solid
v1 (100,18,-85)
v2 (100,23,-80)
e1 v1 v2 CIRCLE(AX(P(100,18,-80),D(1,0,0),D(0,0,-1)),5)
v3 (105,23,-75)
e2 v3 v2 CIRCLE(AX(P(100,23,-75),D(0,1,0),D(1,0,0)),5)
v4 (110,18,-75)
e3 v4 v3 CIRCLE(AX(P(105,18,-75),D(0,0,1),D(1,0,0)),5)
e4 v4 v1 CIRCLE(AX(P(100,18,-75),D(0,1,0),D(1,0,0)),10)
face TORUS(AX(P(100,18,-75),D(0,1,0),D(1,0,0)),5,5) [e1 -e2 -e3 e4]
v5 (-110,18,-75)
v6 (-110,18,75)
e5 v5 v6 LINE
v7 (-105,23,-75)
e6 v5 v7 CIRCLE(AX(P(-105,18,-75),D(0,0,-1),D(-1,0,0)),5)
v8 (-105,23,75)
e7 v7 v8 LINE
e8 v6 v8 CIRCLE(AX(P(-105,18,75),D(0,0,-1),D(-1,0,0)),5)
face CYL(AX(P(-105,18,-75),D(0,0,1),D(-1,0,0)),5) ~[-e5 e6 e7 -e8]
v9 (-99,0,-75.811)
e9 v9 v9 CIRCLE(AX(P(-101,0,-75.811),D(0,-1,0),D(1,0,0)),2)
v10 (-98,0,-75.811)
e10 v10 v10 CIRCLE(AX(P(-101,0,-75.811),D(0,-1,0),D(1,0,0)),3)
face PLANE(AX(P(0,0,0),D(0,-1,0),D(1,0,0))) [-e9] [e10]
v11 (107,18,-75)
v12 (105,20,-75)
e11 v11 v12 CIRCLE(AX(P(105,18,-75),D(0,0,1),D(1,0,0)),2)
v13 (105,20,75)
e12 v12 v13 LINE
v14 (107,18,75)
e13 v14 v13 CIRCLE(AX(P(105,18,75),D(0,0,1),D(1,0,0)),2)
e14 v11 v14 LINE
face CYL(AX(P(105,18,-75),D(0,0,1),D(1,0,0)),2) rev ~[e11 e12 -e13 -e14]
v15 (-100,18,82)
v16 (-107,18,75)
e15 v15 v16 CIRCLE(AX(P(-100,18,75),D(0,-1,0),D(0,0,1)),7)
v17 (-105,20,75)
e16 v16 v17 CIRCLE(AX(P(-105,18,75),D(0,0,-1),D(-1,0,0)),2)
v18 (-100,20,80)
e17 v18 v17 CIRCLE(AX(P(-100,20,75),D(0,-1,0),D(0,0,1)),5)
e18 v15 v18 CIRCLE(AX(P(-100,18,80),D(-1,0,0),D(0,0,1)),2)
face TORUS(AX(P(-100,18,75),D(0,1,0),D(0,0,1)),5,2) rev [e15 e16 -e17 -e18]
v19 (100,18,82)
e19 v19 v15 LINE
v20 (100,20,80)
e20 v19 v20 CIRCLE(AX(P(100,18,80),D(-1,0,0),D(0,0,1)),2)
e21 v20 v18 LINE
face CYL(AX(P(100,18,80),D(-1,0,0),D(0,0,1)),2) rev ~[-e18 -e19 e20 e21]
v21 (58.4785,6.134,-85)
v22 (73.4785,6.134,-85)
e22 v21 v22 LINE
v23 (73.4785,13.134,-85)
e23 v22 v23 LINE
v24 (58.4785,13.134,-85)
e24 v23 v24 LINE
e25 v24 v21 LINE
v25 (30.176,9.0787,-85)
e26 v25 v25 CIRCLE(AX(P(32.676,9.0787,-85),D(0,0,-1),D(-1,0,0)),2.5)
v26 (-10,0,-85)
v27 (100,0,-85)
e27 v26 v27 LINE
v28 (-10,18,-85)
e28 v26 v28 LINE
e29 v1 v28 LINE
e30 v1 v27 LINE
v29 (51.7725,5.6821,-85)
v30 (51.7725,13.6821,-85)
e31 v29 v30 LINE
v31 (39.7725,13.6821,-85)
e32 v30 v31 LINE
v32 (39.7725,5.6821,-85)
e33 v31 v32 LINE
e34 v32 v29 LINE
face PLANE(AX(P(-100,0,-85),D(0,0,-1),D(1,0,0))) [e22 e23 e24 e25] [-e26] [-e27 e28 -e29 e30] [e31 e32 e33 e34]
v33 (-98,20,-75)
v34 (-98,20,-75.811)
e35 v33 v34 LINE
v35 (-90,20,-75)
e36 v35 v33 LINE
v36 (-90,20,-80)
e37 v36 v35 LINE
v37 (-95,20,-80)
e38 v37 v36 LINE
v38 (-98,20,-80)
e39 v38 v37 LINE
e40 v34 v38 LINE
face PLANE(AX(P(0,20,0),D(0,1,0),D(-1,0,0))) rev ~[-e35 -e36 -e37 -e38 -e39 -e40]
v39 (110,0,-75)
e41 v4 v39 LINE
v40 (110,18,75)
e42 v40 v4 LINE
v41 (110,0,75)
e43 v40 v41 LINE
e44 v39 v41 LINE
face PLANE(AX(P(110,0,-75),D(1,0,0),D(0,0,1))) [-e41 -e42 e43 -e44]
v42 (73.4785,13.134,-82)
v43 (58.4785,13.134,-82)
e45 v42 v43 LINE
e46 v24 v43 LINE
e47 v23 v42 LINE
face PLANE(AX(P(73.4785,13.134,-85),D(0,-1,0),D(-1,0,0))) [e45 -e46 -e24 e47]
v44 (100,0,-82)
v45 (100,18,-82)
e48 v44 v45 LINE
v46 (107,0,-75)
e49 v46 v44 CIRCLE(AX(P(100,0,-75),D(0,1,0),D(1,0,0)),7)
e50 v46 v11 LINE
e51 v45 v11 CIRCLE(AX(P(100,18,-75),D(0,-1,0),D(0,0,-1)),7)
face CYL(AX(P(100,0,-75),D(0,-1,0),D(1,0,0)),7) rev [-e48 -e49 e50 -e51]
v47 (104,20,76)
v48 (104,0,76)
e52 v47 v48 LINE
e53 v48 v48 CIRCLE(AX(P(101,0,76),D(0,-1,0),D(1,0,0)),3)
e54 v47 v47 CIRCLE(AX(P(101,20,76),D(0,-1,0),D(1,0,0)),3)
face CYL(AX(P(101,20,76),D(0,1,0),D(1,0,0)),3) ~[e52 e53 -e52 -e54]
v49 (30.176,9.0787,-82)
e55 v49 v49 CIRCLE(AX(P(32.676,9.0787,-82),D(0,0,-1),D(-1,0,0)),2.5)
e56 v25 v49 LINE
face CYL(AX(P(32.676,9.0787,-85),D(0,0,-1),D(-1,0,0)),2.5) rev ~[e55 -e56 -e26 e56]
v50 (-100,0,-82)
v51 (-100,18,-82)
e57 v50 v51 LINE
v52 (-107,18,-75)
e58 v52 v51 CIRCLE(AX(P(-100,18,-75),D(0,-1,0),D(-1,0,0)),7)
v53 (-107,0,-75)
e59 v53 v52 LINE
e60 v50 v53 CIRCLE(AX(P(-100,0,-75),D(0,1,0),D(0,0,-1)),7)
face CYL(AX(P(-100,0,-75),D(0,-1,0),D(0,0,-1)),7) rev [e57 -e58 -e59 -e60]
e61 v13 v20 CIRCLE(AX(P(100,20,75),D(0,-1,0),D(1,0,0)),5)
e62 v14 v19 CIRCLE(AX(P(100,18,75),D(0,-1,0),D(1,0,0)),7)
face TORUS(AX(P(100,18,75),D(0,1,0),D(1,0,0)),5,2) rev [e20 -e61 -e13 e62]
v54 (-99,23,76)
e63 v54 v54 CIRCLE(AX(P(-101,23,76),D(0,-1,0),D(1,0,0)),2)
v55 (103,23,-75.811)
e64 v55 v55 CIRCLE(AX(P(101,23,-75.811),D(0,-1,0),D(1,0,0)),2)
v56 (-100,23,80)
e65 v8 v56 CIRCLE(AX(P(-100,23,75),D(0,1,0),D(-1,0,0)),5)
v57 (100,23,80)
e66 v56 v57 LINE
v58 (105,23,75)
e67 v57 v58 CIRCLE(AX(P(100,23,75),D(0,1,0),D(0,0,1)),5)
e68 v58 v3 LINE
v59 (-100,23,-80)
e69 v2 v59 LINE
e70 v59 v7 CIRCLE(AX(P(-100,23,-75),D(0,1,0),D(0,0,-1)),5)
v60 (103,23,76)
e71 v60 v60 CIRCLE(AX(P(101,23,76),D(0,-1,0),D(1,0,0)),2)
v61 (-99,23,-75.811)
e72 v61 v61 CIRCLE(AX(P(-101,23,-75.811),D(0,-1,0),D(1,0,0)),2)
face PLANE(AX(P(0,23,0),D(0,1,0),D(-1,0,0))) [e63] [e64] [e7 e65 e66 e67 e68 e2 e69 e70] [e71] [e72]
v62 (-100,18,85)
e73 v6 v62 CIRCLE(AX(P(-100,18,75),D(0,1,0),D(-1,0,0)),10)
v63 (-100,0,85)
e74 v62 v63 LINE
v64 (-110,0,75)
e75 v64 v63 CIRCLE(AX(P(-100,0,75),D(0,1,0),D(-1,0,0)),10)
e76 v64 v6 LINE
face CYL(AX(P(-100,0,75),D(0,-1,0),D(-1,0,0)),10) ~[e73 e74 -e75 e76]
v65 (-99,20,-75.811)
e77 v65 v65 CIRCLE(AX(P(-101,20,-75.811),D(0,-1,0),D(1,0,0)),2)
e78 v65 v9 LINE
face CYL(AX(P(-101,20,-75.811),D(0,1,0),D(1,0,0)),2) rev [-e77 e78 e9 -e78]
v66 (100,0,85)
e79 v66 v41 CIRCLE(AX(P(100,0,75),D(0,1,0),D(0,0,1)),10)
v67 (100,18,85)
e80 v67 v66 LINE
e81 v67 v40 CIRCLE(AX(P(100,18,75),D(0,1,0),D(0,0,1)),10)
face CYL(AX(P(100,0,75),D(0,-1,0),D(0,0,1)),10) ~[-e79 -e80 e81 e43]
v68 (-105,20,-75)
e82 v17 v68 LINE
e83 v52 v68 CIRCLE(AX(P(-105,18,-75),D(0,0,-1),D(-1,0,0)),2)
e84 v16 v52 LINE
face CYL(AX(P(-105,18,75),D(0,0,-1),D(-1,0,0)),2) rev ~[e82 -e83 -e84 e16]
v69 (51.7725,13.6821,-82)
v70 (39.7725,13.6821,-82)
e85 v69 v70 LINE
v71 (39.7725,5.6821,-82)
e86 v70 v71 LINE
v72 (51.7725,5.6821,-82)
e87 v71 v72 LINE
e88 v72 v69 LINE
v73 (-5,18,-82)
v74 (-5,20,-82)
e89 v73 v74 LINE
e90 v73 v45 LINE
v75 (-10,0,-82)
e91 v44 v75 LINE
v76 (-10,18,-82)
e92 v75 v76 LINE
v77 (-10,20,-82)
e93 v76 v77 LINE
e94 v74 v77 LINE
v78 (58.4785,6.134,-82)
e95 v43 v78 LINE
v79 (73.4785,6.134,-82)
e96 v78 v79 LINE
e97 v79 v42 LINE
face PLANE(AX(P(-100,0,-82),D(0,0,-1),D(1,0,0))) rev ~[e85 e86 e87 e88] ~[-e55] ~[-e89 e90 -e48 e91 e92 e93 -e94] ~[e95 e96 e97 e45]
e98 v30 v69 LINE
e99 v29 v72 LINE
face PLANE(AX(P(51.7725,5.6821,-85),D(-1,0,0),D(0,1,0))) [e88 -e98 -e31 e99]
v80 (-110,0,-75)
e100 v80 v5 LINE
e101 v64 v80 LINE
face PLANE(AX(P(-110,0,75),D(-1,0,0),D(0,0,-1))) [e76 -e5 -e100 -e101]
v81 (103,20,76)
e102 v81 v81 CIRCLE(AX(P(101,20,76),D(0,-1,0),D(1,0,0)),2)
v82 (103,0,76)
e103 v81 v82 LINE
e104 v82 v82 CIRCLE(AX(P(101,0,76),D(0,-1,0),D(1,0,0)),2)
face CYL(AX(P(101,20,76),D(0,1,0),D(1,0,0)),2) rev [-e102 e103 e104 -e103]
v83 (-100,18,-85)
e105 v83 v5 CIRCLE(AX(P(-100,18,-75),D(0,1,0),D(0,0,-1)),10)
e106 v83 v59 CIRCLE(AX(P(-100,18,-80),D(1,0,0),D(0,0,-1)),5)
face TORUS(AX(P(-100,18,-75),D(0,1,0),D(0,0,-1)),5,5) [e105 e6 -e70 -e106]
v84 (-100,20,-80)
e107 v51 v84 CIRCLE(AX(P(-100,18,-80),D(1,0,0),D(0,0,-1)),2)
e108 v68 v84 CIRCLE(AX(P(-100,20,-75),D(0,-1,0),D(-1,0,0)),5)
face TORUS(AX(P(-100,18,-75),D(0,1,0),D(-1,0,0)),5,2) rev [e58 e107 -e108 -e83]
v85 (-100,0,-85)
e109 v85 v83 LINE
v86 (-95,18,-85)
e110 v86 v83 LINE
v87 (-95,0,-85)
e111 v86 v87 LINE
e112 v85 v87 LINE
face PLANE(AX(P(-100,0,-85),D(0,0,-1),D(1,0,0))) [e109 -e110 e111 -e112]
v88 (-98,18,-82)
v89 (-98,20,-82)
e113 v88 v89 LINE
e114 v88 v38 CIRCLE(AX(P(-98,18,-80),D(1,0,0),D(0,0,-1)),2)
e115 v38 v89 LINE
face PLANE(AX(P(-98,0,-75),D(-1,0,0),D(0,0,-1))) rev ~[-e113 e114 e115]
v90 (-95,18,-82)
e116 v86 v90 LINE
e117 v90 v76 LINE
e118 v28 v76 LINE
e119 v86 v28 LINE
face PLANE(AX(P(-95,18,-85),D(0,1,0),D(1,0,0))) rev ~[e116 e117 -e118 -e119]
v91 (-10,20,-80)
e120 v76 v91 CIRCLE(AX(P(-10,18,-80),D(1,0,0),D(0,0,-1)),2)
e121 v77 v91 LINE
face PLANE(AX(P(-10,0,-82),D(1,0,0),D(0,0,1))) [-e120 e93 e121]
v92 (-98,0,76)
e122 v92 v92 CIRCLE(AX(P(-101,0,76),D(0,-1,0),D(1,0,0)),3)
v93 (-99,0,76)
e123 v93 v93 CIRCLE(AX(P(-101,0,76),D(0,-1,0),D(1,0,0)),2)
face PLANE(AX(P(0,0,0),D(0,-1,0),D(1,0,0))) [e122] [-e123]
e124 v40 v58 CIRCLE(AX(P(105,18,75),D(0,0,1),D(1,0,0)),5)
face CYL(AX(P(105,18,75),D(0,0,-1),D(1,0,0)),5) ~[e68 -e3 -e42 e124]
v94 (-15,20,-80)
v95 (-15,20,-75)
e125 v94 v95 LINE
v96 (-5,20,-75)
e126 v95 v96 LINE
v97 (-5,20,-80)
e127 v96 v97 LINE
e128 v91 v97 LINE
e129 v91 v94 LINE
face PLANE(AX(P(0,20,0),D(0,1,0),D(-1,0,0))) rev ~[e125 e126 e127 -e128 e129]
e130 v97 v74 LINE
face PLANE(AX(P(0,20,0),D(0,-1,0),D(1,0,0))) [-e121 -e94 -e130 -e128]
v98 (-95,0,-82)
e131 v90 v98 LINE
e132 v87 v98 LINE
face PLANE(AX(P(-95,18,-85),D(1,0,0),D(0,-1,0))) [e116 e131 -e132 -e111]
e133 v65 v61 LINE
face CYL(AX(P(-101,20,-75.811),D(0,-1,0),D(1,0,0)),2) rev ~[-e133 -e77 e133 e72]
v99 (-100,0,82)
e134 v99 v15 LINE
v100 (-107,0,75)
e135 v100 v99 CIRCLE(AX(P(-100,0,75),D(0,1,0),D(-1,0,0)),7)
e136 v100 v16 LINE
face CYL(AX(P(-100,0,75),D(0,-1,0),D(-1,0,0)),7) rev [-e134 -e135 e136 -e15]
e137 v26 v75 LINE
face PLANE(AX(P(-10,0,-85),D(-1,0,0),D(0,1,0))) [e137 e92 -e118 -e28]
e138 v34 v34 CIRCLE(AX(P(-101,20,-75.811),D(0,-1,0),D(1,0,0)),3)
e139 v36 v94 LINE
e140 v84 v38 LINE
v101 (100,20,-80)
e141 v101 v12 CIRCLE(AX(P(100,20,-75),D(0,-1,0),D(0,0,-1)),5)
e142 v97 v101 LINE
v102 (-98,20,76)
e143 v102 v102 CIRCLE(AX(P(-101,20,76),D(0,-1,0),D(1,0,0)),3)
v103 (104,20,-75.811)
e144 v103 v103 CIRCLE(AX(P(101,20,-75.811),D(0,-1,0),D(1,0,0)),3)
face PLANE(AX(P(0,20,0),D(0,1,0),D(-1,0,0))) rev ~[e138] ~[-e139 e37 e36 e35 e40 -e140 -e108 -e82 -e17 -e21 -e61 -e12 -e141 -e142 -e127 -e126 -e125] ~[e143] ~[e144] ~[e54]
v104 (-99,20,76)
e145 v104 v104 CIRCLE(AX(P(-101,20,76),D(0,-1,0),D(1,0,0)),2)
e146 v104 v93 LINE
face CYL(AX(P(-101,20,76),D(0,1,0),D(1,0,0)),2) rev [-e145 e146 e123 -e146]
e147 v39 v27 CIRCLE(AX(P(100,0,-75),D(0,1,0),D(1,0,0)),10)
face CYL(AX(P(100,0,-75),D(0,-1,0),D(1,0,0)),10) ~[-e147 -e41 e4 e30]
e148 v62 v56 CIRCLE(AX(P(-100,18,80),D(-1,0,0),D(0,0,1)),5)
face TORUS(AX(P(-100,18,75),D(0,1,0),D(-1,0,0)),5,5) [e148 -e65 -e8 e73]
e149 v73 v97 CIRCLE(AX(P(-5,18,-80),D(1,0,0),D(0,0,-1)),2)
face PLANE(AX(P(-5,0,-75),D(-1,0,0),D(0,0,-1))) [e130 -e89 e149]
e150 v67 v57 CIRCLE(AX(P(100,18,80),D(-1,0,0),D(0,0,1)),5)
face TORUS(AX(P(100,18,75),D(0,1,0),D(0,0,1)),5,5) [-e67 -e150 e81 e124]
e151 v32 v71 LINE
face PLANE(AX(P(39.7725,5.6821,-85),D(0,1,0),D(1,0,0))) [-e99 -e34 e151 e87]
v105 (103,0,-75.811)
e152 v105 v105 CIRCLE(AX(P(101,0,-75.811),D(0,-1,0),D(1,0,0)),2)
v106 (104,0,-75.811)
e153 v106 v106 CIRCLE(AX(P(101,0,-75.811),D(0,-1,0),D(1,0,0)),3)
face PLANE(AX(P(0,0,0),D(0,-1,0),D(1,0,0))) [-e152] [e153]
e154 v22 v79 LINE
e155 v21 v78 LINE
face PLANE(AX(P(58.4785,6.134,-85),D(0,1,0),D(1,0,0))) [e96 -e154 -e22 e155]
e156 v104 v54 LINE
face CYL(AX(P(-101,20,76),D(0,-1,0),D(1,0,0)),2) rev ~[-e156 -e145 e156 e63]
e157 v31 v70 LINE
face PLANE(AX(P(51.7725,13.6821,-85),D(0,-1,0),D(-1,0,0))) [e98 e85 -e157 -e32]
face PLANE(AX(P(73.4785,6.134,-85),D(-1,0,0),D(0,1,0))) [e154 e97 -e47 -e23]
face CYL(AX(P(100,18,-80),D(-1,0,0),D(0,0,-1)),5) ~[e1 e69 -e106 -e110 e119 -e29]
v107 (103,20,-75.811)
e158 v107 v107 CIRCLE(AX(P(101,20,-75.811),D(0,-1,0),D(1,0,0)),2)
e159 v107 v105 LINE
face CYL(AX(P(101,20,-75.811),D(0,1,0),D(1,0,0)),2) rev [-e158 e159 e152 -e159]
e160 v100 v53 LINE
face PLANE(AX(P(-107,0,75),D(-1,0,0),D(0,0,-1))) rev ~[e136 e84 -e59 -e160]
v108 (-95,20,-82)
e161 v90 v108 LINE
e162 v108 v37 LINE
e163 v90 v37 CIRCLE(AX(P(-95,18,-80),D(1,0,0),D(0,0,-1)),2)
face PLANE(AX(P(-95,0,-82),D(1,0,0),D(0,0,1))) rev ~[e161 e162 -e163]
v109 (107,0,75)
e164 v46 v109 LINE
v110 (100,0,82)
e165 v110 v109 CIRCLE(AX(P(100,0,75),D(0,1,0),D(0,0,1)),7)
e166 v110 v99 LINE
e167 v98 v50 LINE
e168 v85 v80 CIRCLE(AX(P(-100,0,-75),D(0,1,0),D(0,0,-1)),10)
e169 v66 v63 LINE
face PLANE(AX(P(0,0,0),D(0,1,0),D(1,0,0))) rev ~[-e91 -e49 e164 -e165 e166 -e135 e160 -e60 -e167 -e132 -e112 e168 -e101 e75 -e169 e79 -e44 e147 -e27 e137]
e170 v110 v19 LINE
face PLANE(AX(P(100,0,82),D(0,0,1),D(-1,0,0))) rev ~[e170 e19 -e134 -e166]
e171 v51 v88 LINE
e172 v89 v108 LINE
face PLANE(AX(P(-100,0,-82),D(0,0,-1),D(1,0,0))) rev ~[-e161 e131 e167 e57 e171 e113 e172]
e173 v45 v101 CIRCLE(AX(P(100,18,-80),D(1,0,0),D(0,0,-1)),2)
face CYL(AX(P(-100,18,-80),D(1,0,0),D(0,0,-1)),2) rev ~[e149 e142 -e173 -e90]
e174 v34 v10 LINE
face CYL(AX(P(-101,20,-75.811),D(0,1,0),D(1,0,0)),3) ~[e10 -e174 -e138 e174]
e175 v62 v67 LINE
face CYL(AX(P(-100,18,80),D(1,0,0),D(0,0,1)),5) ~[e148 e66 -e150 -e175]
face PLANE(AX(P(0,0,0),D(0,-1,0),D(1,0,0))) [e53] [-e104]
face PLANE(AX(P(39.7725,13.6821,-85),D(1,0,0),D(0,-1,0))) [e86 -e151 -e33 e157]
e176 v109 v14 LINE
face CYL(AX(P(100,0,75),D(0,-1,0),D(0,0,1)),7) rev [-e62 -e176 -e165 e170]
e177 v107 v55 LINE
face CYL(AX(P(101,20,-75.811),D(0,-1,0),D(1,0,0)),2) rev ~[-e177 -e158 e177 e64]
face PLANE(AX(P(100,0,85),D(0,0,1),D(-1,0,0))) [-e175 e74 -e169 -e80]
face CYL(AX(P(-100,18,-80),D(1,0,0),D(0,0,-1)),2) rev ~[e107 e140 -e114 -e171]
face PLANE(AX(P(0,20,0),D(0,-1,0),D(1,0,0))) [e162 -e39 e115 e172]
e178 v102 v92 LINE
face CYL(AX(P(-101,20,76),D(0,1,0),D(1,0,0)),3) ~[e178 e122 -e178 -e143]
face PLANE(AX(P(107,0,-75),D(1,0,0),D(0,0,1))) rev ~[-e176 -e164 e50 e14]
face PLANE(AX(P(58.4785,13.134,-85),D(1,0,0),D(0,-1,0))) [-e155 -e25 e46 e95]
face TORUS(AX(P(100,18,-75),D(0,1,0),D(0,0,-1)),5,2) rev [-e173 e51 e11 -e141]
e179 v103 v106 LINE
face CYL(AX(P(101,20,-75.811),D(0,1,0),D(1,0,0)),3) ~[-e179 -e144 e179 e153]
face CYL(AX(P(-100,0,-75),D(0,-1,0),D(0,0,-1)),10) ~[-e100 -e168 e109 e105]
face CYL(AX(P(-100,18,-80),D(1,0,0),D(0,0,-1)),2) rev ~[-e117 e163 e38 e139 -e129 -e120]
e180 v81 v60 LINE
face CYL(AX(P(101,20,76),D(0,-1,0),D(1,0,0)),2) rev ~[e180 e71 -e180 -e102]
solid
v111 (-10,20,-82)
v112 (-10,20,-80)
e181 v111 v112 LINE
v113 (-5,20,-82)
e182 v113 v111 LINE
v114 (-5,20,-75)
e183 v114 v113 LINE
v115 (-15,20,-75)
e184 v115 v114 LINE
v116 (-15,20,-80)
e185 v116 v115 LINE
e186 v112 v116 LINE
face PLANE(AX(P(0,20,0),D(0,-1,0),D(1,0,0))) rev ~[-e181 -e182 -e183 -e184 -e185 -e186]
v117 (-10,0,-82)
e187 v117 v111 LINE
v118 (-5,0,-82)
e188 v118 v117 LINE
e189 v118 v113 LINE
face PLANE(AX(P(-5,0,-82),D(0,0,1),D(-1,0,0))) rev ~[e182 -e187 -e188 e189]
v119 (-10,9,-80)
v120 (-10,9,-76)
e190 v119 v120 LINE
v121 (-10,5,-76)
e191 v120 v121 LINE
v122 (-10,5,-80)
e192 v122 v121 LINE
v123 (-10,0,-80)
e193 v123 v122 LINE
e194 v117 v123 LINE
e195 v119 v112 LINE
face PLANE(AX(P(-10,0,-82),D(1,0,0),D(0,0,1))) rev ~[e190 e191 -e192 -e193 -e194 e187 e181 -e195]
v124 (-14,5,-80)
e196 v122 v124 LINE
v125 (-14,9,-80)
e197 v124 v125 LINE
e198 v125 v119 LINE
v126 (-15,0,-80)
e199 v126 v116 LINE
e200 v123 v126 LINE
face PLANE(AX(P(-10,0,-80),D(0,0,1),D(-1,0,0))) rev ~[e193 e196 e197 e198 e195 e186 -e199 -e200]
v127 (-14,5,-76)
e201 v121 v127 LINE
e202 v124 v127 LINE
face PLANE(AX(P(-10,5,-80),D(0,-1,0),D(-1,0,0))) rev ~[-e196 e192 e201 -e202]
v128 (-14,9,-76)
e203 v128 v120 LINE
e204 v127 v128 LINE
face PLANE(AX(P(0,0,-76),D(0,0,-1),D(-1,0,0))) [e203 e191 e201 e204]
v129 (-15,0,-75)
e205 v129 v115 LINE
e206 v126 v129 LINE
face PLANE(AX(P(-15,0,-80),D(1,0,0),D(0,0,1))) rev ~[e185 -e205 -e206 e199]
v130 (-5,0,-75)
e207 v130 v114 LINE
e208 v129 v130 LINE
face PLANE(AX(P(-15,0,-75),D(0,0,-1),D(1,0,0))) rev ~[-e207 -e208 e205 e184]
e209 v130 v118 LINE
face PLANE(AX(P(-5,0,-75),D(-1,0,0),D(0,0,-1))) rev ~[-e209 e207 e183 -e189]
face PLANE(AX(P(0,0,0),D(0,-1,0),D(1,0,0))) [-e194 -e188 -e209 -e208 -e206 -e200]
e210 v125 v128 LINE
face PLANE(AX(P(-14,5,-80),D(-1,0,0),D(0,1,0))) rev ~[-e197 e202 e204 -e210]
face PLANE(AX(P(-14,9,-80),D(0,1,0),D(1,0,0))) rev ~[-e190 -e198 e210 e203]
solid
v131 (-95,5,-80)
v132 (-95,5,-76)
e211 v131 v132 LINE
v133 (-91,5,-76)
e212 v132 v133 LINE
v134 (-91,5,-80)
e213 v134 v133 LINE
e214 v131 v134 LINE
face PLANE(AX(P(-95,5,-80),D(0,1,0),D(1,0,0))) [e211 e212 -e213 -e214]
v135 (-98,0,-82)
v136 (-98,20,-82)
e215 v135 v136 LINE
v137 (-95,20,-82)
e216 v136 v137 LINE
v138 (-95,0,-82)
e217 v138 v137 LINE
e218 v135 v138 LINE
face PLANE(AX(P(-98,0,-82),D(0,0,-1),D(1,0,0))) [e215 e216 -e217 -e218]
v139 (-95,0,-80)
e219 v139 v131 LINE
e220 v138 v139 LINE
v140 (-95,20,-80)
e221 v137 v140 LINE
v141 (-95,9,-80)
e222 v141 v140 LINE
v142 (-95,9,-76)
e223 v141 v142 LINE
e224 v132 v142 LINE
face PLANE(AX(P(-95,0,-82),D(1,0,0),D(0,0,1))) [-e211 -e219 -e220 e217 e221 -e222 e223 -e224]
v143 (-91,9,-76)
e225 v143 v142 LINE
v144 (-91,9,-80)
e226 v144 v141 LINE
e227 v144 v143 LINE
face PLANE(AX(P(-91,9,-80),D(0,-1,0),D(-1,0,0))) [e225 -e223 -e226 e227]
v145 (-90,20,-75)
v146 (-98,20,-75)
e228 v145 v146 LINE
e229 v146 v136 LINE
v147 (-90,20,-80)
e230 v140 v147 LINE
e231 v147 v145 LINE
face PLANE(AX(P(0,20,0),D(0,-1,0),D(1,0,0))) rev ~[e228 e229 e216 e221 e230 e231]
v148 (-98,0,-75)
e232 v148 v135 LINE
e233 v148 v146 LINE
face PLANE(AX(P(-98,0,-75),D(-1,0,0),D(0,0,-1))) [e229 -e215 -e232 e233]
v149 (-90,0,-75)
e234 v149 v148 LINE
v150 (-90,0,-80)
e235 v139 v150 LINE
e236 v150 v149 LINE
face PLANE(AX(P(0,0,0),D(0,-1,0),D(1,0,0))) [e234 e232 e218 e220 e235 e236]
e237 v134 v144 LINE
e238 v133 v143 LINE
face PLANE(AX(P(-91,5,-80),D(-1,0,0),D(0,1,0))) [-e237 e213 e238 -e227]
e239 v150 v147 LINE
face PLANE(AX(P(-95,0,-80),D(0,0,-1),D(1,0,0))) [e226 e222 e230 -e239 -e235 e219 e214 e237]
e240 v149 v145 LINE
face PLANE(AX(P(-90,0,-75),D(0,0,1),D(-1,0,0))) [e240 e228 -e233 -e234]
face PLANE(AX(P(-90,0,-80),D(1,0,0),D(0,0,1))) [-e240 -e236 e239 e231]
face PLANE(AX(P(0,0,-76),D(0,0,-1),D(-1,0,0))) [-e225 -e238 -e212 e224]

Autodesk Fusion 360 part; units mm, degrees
sketch "Esquisse1" plane through (0, 0, 0) normal (0, 1, 0) x (1, 0, 0)
  line L0 (-100, 85) -> (100, 85)
  line L1 (110, 75) -> (110, -75)
  line L2 (100, -85) -> (-100, -85)
  line L3 (-110, -75) -> (-110, 75)
  line L4 (-110, 85) -> (110, -85) construction
  line L5 (110, 85) -> (-110, -85) construction
  arc A0 (-100, 85) -> (-110, 75) centre (-100, 75) ccw
  arc A1 (110, 75) -> (100, 85) centre (100, 75) ccw
  arc A2 (100, -85) -> (110, -75) centre (100, -75) ccw
  arc A3 (-110, -75) -> (-100, -85) centre (-100, -75) ccw
  arc A4 (-100, 82) -> (-107, 75) centre (-100, 75) ccw
  line L6 (-107, -75) -> (-107, 75)
  arc A5 (-107, -75) -> (-100, -82) centre (-100, -75) ccw
  line L7 (100, -82) -> (-100, -82)
  arc A6 (100, -82) -> (107, -75) centre (100, -75) ccw
  line L8 (107, 75) -> (107, -75)
  arc A7 (107, 75) -> (100, 82) centre (100, 75) ccw
  line L9 (-100, 82) -> (100, 82)
  dimension "d8" = 170
  dimension "d9" = 220
  dimension "d10" = 10
  dimension "d11" = 3
extrude "Extrusion2" add sketch "Esquisse1" along normal blind 20 makes body 1
sketch "Esquisse2" plane through (0, 20, 0) normal (0, 1, 0) x (-1, 0, 0)
  arc A0 (107, 75) -> (100, 82) centre (100, 75) ccw
  line L0 (107, 75) -> (107, -75)
  arc A1 (100, -82) -> (107, -75) centre (100, -75) ccw
  line L1 (100, -82) -> (-100, -82)
  arc A2 (-107, -75) -> (-100, -82) centre (-100, -75) ccw
  line L2 (-107, -75) -> (-107, 75)
  arc A3 (-100, 82) -> (-107, 75) centre (-100, 75) ccw
  line L3 (-100, 82) -> (100, 82)
  arc A4 (100, -85) -> (110, -75) centre (100, -75) ccw
  line L4 (110, -75) -> (110, 75)
  arc A5 (110, 75) -> (100, 85) centre (100, 75) ccw
  line L5 (100, 85) -> (-100, 85)
  arc A6 (-100, 85) -> (-110, 75) centre (-100, 75) ccw
  line L6 (-110, 75) -> (-110, -75)
  arc A7 (-110, -75) -> (-100, -85) centre (-100, -75) ccw
  line L7 (-100, -85) -> (100, -85)
  line L8 (-110, 75) -> (-110, -75)
  arc A8 (-100, 85) -> (-110, 75) centre (-100, 75) ccw
  line L9 (100, 85) -> (-100, 85)
  circle A9 centre (100, 75) radius 0.001
  line L10 (110, -75) -> (110, 75)
  arc A10 (100, -85) -> (110, -75) centre (100, -75) ccw
  line L11 (-100, -85) -> (100, -85)
  circle A11 centre (-100, -75) radius 0.001
extrude "Extrusion3" add sketch "Esquisse2" along normal blind 3 contours A0 L0 A1 L1 A2 L2 A3 L3 | A4 L4 A5 L5 A6 L6 A7 L7 L8 A8 L9 L10 A10 L11 | A9 | A11 bodies 1
fillet "Congé1" radius 2 8 edges at (0, 20, -82) (104.9497, 20, -79.9497) (107, 20, 0) (104.9497, 20, 79.9497) (0, 20, 82) (-104.9497, 20, 79.9497) (-107, 20, 0) (-104.9497, 20, -79.9497) on bodies 1
fillet "Congé2" radius 5 8 edges at (0, 23, 85) (107.0711, 23, 82.0711) (110, 23, 0) (107.0711, 23, -82.0711) (0, 23, -85) (-107.0711, 23, -82.0711) (-110, 23, 0) (-107.0711, 23, 82.0711) on bodies 1
sketch "Esquisse3" plane through (0, 0, -85) normal (0, 0, -1) x (-1, 0, 0)
  line L0 (100, 18) -> (-100, 18)
  line L1 (-100, 18) -> (-100, 0)
  line L2 (-100, 0) -> (100, 0)
  line L3 (100, 0) -> (100, 18)
  line L4 (-58.4785, 6.134) -> (-73.4785, 6.134)
  line L5 (-73.4785, 6.134) -> (-73.4785, 13.134)
  line L6 (-73.4785, 13.134) -> (-58.4785, 13.134)
  line L7 (-58.4785, 13.134) -> (-58.4785, 6.134)
  line L8 (-39.7725, 5.6821) -> (-51.7725, 5.6821)
  line L9 (-51.7725, 5.6821) -> (-51.7725, 13.6821)
  line L10 (-51.7725, 13.6821) -> (-39.7725, 13.6821)
  line L11 (-39.7725, 13.6821) -> (-39.7725, 5.6821)
  circle A0 centre (-32.676, 9.0787) radius 2.5
  dimension "d20" = 15
  dimension "d21" = 7
  dimension "d24" = 12
  dimension "d25" = 8
  dimension "d26" = 5
extrude "Extrusion4" cut sketch "Esquisse3" against normal blind 30 contours L4 L5 L6 L7 | L8 L9 L10 L11 | A0 bodies 1
sketch "Esquisse4" plane through (0, 0, 0) normal (0, -1, 0) x (1, 0, 0)
  arc A0 (-100, 82) -> (-107, 75) centre (-100, 75) ccw
  line L0 (-100, 82) -> (100, 82)
  arc A1 (107, 75) -> (100, 82) centre (100, 75) ccw
  line L1 (107, 75) -> (107, -75)
  arc A2 (100, -82) -> (107, -75) centre (100, -75) ccw
  line L2 (100, -82) -> (-100, -82)
  arc A3 (-107, -75) -> (-100, -82) centre (-100, -75) ccw
  line L3 (-107, -75) -> (-107, 75)
  arc A4 (-110, -75) -> (-100, -85) centre (-100, -75) ccw
  line L4 (-100, -85) -> (100, -85)
  arc A5 (100, -85) -> (110, -75) centre (100, -75) ccw
  line L5 (110, -75) -> (110, 75)
  arc A6 (110, 75) -> (100, 85) centre (100, 75) ccw
  line L6 (100, 85) -> (-100, 85)
  arc A7 (-100, 85) -> (-110, 75) centre (-100, 75) ccw
  line L7 (-110, 75) -> (-110, -75)
sketch "Esquisse5" plane through (0, 20, 0) normal (0, -1, 0) x (1, 0, 0)
  line L0 (-100, -80) -> (100, -80)
  line L1 (105, -75) -> (105, 75)
  line L2 (100, 80) -> (-100, 80)
  line L3 (-105, 75) -> (-105, -75)
  circle A0 centre (-101, 76) radius 2
  circle A1 centre (-101, 76) radius 2
  circle A2 centre (-101, 76) radius 3
  line L4 (0, 100) -> (0, -84.8494) construction
  line L5 (-132.4366, 0.0945) -> (95, 0.0945) construction
  circle A3 centre (101, 76) radius 3
  circle A4 centre (101, 76) radius 2
  circle A5 centre (101, -75.811) radius 3
  circle A6 centre (101, -75.811) radius 2
  circle A7 centre (-101, -75.811) radius 3
  circle A8 centre (-101, -75.811) radius 2
  arc A9 (100, -80) -> (105, -75) centre (100, -75) ccw
  arc A10 (105, 75) -> (100, 80) centre (100, 75) ccw
  arc A11 (-100, 80) -> (-105, 75) centre (-100, 75) ccw
  arc A12 (-105, -75) -> (-100, -80) centre (-100, -75) ccw
  point P0 (-101, -75.811)
  dimension "d27" = 4
  dimension "d28" = 4
  dimension "d29" = 6
  dimension "d30" = 4
  dimension "d31" = 4
  dimension "d32" = 4
  dimension "d33" = 4
extrude "Extrusion5" add sketch "Esquisse5" along normal up to surface (20 mm away) contours A2 | A3 | A5 | A7 bodies 1
extrude "Extrusion6" cut sketch "Esquisse5" against normal blind 55 contours A0 A1 | A4 | A6 | A8 bodies 1
sketch "Esquisse6" plane through (0, 0, -85) normal (0, 0, -1) x (-1, 0, 0)
  line L0 (-73.4785, 6.134) -> (-73.4785, 13.134)
  line L1 (-73.4785, 13.134) -> (-58.4785, 13.134)
  line L2 (-58.4785, 13.134) -> (-58.4785, 6.134)
  line L3 (-58.4785, 6.134) -> (-73.4785, 6.134)
  line L4 (-51.7725, 5.6821) -> (-51.7725, 13.6821)
  line L5 (-51.7725, 13.6821) -> (-39.7725, 13.6821)
  line L6 (-39.7725, 13.6821) -> (-39.7725, 5.6821)
  line L7 (-39.7725, 5.6821) -> (-51.7725, 5.6821)
  circle A0 centre (-32.676, 9.0787) radius 2.5
  line L8 (100, 18) -> (-100, 18)
  line L9 (-100, 18) -> (-100, 0)
  line L10 (-100, 0) -> (100, 0)
  line L11 (100, 0) -> (100, 18)
  line L12 (95, 0) -> (10, 0)
  line L13 (10, 0) -> (10, 18)
  line L14 (10, 18) -> (95, 18)
  line L15 (95, 18) -> (95, 0)
  dimension "d39" = 85
  dimension "d45" = 5
extrude "Extrusion7" cut sketch "Esquisse6" against normal blind 25 contours L8 L10 L12 L13 L14 L15 bodies 1
sketch "Esquisse7" plane through (0, 0, 0) normal (0, -1, 0) x (1, 0, 0)
  line L0 (-95, -85) -> (-95, -82)
  line L1 (-95, -82) -> (-100, -82)
  arc A0 (-107, -75) -> (-100, -82) centre (-100, -75) ccw
  line L2 (-107, -75) -> (-107, 75)
  arc A1 (-100, 82) -> (-107, 75) centre (-100, 75) ccw
  line L3 (-100, 82) -> (100, 82)
  arc A2 (107, 75) -> (100, 82) centre (100, 75) ccw
  line L4 (107, 75) -> (107, -75)
  arc A3 (100, -82) -> (107, -75) centre (100, -75) ccw
  line L5 (100, -82) -> (-10, -82)
  line L6 (-10, -82) -> (-10, -85)
  line L7 (-10, -85) -> (100, -85)
  arc A4 (100, -85) -> (110, -75) centre (100, -75) ccw
  line L8 (110, -75) -> (110, 75)
  arc A5 (110, 75) -> (100, 85) centre (100, 75) ccw
  line L9 (100, 85) -> (-100, 85)
  arc A6 (-100, 85) -> (-110, 75) centre (-100, 75) ccw
  line L10 (-110, 75) -> (-110, -75)
  arc A7 (-110, -75) -> (-100, -85) centre (-100, -75) ccw
  line L11 (-100, -85) -> (-95, -85)
sketch "Esquisse8" plane through (0, 0, 0) normal (0, -1, 0) x (1, 0, 0)
  line L0 (-95, -82) -> (-95, -80)
  line L1 (-95, -80) -> (-90, -80)
  line L2 (-90, -80) -> (-90, -75)
  line L3 (-90, -75) -> (-98, -75)
  line L4 (-98, -75) -> (-98, -82)
  line L5 (-98, -82) -> (-95, -82)
  line L6 (-10, -82) -> (-10, -80)
  line L7 (-10, -80) -> (-15, -80)
  line L8 (-15, -80) -> (-15, -75)
  line L9 (-15, -75) -> (-5, -75)
  line L10 (-5, -75) -> (-5, -82)
  line L11 (-5, -82) -> (-10, -82)
extrude "Extrusion9" cut sketch "Esquisse8" against normal up to surface (20 mm away) bodies 1
extrude "Extrusion10" add sketch "Esquisse8" against normal up to surface (20 mm away) separate body makes body 2 at (-92.6667, 6.6667, -75) makes body 3 at (-11.6667, 13.3333, -75)
sketch "Esquisse9" plane through (0, 0, -80) normal (0, 0, -1) x (-1, 0, 0)
  line L0 (95, 20) -> (90, 20)
  line L1 (90, 20) -> (90, 0)
  line L2 (90, 0) -> (95, 0)
  line L3 (95, 0) -> (95, 20)
  line L4 (95, 5) -> (91, 5)
  line L5 (91, 5) -> (91, 9)
  line L6 (91, 9) -> (95, 9)
  line L7 (95, 9) -> (95, 5)
  line L8 (10, 5) -> (14, 5)
  line L9 (14, 5) -> (14, 9)
  line L10 (14, 9) -> (10, 9)
  line L11 (10, 9) -> (10, 5)
extrude "Extrusion11" cut sketch "Esquisse9" against normal blind 4 contours L3 L4 L5 L6 L7 | L8 L9 L10 L11 bodies 2 3
